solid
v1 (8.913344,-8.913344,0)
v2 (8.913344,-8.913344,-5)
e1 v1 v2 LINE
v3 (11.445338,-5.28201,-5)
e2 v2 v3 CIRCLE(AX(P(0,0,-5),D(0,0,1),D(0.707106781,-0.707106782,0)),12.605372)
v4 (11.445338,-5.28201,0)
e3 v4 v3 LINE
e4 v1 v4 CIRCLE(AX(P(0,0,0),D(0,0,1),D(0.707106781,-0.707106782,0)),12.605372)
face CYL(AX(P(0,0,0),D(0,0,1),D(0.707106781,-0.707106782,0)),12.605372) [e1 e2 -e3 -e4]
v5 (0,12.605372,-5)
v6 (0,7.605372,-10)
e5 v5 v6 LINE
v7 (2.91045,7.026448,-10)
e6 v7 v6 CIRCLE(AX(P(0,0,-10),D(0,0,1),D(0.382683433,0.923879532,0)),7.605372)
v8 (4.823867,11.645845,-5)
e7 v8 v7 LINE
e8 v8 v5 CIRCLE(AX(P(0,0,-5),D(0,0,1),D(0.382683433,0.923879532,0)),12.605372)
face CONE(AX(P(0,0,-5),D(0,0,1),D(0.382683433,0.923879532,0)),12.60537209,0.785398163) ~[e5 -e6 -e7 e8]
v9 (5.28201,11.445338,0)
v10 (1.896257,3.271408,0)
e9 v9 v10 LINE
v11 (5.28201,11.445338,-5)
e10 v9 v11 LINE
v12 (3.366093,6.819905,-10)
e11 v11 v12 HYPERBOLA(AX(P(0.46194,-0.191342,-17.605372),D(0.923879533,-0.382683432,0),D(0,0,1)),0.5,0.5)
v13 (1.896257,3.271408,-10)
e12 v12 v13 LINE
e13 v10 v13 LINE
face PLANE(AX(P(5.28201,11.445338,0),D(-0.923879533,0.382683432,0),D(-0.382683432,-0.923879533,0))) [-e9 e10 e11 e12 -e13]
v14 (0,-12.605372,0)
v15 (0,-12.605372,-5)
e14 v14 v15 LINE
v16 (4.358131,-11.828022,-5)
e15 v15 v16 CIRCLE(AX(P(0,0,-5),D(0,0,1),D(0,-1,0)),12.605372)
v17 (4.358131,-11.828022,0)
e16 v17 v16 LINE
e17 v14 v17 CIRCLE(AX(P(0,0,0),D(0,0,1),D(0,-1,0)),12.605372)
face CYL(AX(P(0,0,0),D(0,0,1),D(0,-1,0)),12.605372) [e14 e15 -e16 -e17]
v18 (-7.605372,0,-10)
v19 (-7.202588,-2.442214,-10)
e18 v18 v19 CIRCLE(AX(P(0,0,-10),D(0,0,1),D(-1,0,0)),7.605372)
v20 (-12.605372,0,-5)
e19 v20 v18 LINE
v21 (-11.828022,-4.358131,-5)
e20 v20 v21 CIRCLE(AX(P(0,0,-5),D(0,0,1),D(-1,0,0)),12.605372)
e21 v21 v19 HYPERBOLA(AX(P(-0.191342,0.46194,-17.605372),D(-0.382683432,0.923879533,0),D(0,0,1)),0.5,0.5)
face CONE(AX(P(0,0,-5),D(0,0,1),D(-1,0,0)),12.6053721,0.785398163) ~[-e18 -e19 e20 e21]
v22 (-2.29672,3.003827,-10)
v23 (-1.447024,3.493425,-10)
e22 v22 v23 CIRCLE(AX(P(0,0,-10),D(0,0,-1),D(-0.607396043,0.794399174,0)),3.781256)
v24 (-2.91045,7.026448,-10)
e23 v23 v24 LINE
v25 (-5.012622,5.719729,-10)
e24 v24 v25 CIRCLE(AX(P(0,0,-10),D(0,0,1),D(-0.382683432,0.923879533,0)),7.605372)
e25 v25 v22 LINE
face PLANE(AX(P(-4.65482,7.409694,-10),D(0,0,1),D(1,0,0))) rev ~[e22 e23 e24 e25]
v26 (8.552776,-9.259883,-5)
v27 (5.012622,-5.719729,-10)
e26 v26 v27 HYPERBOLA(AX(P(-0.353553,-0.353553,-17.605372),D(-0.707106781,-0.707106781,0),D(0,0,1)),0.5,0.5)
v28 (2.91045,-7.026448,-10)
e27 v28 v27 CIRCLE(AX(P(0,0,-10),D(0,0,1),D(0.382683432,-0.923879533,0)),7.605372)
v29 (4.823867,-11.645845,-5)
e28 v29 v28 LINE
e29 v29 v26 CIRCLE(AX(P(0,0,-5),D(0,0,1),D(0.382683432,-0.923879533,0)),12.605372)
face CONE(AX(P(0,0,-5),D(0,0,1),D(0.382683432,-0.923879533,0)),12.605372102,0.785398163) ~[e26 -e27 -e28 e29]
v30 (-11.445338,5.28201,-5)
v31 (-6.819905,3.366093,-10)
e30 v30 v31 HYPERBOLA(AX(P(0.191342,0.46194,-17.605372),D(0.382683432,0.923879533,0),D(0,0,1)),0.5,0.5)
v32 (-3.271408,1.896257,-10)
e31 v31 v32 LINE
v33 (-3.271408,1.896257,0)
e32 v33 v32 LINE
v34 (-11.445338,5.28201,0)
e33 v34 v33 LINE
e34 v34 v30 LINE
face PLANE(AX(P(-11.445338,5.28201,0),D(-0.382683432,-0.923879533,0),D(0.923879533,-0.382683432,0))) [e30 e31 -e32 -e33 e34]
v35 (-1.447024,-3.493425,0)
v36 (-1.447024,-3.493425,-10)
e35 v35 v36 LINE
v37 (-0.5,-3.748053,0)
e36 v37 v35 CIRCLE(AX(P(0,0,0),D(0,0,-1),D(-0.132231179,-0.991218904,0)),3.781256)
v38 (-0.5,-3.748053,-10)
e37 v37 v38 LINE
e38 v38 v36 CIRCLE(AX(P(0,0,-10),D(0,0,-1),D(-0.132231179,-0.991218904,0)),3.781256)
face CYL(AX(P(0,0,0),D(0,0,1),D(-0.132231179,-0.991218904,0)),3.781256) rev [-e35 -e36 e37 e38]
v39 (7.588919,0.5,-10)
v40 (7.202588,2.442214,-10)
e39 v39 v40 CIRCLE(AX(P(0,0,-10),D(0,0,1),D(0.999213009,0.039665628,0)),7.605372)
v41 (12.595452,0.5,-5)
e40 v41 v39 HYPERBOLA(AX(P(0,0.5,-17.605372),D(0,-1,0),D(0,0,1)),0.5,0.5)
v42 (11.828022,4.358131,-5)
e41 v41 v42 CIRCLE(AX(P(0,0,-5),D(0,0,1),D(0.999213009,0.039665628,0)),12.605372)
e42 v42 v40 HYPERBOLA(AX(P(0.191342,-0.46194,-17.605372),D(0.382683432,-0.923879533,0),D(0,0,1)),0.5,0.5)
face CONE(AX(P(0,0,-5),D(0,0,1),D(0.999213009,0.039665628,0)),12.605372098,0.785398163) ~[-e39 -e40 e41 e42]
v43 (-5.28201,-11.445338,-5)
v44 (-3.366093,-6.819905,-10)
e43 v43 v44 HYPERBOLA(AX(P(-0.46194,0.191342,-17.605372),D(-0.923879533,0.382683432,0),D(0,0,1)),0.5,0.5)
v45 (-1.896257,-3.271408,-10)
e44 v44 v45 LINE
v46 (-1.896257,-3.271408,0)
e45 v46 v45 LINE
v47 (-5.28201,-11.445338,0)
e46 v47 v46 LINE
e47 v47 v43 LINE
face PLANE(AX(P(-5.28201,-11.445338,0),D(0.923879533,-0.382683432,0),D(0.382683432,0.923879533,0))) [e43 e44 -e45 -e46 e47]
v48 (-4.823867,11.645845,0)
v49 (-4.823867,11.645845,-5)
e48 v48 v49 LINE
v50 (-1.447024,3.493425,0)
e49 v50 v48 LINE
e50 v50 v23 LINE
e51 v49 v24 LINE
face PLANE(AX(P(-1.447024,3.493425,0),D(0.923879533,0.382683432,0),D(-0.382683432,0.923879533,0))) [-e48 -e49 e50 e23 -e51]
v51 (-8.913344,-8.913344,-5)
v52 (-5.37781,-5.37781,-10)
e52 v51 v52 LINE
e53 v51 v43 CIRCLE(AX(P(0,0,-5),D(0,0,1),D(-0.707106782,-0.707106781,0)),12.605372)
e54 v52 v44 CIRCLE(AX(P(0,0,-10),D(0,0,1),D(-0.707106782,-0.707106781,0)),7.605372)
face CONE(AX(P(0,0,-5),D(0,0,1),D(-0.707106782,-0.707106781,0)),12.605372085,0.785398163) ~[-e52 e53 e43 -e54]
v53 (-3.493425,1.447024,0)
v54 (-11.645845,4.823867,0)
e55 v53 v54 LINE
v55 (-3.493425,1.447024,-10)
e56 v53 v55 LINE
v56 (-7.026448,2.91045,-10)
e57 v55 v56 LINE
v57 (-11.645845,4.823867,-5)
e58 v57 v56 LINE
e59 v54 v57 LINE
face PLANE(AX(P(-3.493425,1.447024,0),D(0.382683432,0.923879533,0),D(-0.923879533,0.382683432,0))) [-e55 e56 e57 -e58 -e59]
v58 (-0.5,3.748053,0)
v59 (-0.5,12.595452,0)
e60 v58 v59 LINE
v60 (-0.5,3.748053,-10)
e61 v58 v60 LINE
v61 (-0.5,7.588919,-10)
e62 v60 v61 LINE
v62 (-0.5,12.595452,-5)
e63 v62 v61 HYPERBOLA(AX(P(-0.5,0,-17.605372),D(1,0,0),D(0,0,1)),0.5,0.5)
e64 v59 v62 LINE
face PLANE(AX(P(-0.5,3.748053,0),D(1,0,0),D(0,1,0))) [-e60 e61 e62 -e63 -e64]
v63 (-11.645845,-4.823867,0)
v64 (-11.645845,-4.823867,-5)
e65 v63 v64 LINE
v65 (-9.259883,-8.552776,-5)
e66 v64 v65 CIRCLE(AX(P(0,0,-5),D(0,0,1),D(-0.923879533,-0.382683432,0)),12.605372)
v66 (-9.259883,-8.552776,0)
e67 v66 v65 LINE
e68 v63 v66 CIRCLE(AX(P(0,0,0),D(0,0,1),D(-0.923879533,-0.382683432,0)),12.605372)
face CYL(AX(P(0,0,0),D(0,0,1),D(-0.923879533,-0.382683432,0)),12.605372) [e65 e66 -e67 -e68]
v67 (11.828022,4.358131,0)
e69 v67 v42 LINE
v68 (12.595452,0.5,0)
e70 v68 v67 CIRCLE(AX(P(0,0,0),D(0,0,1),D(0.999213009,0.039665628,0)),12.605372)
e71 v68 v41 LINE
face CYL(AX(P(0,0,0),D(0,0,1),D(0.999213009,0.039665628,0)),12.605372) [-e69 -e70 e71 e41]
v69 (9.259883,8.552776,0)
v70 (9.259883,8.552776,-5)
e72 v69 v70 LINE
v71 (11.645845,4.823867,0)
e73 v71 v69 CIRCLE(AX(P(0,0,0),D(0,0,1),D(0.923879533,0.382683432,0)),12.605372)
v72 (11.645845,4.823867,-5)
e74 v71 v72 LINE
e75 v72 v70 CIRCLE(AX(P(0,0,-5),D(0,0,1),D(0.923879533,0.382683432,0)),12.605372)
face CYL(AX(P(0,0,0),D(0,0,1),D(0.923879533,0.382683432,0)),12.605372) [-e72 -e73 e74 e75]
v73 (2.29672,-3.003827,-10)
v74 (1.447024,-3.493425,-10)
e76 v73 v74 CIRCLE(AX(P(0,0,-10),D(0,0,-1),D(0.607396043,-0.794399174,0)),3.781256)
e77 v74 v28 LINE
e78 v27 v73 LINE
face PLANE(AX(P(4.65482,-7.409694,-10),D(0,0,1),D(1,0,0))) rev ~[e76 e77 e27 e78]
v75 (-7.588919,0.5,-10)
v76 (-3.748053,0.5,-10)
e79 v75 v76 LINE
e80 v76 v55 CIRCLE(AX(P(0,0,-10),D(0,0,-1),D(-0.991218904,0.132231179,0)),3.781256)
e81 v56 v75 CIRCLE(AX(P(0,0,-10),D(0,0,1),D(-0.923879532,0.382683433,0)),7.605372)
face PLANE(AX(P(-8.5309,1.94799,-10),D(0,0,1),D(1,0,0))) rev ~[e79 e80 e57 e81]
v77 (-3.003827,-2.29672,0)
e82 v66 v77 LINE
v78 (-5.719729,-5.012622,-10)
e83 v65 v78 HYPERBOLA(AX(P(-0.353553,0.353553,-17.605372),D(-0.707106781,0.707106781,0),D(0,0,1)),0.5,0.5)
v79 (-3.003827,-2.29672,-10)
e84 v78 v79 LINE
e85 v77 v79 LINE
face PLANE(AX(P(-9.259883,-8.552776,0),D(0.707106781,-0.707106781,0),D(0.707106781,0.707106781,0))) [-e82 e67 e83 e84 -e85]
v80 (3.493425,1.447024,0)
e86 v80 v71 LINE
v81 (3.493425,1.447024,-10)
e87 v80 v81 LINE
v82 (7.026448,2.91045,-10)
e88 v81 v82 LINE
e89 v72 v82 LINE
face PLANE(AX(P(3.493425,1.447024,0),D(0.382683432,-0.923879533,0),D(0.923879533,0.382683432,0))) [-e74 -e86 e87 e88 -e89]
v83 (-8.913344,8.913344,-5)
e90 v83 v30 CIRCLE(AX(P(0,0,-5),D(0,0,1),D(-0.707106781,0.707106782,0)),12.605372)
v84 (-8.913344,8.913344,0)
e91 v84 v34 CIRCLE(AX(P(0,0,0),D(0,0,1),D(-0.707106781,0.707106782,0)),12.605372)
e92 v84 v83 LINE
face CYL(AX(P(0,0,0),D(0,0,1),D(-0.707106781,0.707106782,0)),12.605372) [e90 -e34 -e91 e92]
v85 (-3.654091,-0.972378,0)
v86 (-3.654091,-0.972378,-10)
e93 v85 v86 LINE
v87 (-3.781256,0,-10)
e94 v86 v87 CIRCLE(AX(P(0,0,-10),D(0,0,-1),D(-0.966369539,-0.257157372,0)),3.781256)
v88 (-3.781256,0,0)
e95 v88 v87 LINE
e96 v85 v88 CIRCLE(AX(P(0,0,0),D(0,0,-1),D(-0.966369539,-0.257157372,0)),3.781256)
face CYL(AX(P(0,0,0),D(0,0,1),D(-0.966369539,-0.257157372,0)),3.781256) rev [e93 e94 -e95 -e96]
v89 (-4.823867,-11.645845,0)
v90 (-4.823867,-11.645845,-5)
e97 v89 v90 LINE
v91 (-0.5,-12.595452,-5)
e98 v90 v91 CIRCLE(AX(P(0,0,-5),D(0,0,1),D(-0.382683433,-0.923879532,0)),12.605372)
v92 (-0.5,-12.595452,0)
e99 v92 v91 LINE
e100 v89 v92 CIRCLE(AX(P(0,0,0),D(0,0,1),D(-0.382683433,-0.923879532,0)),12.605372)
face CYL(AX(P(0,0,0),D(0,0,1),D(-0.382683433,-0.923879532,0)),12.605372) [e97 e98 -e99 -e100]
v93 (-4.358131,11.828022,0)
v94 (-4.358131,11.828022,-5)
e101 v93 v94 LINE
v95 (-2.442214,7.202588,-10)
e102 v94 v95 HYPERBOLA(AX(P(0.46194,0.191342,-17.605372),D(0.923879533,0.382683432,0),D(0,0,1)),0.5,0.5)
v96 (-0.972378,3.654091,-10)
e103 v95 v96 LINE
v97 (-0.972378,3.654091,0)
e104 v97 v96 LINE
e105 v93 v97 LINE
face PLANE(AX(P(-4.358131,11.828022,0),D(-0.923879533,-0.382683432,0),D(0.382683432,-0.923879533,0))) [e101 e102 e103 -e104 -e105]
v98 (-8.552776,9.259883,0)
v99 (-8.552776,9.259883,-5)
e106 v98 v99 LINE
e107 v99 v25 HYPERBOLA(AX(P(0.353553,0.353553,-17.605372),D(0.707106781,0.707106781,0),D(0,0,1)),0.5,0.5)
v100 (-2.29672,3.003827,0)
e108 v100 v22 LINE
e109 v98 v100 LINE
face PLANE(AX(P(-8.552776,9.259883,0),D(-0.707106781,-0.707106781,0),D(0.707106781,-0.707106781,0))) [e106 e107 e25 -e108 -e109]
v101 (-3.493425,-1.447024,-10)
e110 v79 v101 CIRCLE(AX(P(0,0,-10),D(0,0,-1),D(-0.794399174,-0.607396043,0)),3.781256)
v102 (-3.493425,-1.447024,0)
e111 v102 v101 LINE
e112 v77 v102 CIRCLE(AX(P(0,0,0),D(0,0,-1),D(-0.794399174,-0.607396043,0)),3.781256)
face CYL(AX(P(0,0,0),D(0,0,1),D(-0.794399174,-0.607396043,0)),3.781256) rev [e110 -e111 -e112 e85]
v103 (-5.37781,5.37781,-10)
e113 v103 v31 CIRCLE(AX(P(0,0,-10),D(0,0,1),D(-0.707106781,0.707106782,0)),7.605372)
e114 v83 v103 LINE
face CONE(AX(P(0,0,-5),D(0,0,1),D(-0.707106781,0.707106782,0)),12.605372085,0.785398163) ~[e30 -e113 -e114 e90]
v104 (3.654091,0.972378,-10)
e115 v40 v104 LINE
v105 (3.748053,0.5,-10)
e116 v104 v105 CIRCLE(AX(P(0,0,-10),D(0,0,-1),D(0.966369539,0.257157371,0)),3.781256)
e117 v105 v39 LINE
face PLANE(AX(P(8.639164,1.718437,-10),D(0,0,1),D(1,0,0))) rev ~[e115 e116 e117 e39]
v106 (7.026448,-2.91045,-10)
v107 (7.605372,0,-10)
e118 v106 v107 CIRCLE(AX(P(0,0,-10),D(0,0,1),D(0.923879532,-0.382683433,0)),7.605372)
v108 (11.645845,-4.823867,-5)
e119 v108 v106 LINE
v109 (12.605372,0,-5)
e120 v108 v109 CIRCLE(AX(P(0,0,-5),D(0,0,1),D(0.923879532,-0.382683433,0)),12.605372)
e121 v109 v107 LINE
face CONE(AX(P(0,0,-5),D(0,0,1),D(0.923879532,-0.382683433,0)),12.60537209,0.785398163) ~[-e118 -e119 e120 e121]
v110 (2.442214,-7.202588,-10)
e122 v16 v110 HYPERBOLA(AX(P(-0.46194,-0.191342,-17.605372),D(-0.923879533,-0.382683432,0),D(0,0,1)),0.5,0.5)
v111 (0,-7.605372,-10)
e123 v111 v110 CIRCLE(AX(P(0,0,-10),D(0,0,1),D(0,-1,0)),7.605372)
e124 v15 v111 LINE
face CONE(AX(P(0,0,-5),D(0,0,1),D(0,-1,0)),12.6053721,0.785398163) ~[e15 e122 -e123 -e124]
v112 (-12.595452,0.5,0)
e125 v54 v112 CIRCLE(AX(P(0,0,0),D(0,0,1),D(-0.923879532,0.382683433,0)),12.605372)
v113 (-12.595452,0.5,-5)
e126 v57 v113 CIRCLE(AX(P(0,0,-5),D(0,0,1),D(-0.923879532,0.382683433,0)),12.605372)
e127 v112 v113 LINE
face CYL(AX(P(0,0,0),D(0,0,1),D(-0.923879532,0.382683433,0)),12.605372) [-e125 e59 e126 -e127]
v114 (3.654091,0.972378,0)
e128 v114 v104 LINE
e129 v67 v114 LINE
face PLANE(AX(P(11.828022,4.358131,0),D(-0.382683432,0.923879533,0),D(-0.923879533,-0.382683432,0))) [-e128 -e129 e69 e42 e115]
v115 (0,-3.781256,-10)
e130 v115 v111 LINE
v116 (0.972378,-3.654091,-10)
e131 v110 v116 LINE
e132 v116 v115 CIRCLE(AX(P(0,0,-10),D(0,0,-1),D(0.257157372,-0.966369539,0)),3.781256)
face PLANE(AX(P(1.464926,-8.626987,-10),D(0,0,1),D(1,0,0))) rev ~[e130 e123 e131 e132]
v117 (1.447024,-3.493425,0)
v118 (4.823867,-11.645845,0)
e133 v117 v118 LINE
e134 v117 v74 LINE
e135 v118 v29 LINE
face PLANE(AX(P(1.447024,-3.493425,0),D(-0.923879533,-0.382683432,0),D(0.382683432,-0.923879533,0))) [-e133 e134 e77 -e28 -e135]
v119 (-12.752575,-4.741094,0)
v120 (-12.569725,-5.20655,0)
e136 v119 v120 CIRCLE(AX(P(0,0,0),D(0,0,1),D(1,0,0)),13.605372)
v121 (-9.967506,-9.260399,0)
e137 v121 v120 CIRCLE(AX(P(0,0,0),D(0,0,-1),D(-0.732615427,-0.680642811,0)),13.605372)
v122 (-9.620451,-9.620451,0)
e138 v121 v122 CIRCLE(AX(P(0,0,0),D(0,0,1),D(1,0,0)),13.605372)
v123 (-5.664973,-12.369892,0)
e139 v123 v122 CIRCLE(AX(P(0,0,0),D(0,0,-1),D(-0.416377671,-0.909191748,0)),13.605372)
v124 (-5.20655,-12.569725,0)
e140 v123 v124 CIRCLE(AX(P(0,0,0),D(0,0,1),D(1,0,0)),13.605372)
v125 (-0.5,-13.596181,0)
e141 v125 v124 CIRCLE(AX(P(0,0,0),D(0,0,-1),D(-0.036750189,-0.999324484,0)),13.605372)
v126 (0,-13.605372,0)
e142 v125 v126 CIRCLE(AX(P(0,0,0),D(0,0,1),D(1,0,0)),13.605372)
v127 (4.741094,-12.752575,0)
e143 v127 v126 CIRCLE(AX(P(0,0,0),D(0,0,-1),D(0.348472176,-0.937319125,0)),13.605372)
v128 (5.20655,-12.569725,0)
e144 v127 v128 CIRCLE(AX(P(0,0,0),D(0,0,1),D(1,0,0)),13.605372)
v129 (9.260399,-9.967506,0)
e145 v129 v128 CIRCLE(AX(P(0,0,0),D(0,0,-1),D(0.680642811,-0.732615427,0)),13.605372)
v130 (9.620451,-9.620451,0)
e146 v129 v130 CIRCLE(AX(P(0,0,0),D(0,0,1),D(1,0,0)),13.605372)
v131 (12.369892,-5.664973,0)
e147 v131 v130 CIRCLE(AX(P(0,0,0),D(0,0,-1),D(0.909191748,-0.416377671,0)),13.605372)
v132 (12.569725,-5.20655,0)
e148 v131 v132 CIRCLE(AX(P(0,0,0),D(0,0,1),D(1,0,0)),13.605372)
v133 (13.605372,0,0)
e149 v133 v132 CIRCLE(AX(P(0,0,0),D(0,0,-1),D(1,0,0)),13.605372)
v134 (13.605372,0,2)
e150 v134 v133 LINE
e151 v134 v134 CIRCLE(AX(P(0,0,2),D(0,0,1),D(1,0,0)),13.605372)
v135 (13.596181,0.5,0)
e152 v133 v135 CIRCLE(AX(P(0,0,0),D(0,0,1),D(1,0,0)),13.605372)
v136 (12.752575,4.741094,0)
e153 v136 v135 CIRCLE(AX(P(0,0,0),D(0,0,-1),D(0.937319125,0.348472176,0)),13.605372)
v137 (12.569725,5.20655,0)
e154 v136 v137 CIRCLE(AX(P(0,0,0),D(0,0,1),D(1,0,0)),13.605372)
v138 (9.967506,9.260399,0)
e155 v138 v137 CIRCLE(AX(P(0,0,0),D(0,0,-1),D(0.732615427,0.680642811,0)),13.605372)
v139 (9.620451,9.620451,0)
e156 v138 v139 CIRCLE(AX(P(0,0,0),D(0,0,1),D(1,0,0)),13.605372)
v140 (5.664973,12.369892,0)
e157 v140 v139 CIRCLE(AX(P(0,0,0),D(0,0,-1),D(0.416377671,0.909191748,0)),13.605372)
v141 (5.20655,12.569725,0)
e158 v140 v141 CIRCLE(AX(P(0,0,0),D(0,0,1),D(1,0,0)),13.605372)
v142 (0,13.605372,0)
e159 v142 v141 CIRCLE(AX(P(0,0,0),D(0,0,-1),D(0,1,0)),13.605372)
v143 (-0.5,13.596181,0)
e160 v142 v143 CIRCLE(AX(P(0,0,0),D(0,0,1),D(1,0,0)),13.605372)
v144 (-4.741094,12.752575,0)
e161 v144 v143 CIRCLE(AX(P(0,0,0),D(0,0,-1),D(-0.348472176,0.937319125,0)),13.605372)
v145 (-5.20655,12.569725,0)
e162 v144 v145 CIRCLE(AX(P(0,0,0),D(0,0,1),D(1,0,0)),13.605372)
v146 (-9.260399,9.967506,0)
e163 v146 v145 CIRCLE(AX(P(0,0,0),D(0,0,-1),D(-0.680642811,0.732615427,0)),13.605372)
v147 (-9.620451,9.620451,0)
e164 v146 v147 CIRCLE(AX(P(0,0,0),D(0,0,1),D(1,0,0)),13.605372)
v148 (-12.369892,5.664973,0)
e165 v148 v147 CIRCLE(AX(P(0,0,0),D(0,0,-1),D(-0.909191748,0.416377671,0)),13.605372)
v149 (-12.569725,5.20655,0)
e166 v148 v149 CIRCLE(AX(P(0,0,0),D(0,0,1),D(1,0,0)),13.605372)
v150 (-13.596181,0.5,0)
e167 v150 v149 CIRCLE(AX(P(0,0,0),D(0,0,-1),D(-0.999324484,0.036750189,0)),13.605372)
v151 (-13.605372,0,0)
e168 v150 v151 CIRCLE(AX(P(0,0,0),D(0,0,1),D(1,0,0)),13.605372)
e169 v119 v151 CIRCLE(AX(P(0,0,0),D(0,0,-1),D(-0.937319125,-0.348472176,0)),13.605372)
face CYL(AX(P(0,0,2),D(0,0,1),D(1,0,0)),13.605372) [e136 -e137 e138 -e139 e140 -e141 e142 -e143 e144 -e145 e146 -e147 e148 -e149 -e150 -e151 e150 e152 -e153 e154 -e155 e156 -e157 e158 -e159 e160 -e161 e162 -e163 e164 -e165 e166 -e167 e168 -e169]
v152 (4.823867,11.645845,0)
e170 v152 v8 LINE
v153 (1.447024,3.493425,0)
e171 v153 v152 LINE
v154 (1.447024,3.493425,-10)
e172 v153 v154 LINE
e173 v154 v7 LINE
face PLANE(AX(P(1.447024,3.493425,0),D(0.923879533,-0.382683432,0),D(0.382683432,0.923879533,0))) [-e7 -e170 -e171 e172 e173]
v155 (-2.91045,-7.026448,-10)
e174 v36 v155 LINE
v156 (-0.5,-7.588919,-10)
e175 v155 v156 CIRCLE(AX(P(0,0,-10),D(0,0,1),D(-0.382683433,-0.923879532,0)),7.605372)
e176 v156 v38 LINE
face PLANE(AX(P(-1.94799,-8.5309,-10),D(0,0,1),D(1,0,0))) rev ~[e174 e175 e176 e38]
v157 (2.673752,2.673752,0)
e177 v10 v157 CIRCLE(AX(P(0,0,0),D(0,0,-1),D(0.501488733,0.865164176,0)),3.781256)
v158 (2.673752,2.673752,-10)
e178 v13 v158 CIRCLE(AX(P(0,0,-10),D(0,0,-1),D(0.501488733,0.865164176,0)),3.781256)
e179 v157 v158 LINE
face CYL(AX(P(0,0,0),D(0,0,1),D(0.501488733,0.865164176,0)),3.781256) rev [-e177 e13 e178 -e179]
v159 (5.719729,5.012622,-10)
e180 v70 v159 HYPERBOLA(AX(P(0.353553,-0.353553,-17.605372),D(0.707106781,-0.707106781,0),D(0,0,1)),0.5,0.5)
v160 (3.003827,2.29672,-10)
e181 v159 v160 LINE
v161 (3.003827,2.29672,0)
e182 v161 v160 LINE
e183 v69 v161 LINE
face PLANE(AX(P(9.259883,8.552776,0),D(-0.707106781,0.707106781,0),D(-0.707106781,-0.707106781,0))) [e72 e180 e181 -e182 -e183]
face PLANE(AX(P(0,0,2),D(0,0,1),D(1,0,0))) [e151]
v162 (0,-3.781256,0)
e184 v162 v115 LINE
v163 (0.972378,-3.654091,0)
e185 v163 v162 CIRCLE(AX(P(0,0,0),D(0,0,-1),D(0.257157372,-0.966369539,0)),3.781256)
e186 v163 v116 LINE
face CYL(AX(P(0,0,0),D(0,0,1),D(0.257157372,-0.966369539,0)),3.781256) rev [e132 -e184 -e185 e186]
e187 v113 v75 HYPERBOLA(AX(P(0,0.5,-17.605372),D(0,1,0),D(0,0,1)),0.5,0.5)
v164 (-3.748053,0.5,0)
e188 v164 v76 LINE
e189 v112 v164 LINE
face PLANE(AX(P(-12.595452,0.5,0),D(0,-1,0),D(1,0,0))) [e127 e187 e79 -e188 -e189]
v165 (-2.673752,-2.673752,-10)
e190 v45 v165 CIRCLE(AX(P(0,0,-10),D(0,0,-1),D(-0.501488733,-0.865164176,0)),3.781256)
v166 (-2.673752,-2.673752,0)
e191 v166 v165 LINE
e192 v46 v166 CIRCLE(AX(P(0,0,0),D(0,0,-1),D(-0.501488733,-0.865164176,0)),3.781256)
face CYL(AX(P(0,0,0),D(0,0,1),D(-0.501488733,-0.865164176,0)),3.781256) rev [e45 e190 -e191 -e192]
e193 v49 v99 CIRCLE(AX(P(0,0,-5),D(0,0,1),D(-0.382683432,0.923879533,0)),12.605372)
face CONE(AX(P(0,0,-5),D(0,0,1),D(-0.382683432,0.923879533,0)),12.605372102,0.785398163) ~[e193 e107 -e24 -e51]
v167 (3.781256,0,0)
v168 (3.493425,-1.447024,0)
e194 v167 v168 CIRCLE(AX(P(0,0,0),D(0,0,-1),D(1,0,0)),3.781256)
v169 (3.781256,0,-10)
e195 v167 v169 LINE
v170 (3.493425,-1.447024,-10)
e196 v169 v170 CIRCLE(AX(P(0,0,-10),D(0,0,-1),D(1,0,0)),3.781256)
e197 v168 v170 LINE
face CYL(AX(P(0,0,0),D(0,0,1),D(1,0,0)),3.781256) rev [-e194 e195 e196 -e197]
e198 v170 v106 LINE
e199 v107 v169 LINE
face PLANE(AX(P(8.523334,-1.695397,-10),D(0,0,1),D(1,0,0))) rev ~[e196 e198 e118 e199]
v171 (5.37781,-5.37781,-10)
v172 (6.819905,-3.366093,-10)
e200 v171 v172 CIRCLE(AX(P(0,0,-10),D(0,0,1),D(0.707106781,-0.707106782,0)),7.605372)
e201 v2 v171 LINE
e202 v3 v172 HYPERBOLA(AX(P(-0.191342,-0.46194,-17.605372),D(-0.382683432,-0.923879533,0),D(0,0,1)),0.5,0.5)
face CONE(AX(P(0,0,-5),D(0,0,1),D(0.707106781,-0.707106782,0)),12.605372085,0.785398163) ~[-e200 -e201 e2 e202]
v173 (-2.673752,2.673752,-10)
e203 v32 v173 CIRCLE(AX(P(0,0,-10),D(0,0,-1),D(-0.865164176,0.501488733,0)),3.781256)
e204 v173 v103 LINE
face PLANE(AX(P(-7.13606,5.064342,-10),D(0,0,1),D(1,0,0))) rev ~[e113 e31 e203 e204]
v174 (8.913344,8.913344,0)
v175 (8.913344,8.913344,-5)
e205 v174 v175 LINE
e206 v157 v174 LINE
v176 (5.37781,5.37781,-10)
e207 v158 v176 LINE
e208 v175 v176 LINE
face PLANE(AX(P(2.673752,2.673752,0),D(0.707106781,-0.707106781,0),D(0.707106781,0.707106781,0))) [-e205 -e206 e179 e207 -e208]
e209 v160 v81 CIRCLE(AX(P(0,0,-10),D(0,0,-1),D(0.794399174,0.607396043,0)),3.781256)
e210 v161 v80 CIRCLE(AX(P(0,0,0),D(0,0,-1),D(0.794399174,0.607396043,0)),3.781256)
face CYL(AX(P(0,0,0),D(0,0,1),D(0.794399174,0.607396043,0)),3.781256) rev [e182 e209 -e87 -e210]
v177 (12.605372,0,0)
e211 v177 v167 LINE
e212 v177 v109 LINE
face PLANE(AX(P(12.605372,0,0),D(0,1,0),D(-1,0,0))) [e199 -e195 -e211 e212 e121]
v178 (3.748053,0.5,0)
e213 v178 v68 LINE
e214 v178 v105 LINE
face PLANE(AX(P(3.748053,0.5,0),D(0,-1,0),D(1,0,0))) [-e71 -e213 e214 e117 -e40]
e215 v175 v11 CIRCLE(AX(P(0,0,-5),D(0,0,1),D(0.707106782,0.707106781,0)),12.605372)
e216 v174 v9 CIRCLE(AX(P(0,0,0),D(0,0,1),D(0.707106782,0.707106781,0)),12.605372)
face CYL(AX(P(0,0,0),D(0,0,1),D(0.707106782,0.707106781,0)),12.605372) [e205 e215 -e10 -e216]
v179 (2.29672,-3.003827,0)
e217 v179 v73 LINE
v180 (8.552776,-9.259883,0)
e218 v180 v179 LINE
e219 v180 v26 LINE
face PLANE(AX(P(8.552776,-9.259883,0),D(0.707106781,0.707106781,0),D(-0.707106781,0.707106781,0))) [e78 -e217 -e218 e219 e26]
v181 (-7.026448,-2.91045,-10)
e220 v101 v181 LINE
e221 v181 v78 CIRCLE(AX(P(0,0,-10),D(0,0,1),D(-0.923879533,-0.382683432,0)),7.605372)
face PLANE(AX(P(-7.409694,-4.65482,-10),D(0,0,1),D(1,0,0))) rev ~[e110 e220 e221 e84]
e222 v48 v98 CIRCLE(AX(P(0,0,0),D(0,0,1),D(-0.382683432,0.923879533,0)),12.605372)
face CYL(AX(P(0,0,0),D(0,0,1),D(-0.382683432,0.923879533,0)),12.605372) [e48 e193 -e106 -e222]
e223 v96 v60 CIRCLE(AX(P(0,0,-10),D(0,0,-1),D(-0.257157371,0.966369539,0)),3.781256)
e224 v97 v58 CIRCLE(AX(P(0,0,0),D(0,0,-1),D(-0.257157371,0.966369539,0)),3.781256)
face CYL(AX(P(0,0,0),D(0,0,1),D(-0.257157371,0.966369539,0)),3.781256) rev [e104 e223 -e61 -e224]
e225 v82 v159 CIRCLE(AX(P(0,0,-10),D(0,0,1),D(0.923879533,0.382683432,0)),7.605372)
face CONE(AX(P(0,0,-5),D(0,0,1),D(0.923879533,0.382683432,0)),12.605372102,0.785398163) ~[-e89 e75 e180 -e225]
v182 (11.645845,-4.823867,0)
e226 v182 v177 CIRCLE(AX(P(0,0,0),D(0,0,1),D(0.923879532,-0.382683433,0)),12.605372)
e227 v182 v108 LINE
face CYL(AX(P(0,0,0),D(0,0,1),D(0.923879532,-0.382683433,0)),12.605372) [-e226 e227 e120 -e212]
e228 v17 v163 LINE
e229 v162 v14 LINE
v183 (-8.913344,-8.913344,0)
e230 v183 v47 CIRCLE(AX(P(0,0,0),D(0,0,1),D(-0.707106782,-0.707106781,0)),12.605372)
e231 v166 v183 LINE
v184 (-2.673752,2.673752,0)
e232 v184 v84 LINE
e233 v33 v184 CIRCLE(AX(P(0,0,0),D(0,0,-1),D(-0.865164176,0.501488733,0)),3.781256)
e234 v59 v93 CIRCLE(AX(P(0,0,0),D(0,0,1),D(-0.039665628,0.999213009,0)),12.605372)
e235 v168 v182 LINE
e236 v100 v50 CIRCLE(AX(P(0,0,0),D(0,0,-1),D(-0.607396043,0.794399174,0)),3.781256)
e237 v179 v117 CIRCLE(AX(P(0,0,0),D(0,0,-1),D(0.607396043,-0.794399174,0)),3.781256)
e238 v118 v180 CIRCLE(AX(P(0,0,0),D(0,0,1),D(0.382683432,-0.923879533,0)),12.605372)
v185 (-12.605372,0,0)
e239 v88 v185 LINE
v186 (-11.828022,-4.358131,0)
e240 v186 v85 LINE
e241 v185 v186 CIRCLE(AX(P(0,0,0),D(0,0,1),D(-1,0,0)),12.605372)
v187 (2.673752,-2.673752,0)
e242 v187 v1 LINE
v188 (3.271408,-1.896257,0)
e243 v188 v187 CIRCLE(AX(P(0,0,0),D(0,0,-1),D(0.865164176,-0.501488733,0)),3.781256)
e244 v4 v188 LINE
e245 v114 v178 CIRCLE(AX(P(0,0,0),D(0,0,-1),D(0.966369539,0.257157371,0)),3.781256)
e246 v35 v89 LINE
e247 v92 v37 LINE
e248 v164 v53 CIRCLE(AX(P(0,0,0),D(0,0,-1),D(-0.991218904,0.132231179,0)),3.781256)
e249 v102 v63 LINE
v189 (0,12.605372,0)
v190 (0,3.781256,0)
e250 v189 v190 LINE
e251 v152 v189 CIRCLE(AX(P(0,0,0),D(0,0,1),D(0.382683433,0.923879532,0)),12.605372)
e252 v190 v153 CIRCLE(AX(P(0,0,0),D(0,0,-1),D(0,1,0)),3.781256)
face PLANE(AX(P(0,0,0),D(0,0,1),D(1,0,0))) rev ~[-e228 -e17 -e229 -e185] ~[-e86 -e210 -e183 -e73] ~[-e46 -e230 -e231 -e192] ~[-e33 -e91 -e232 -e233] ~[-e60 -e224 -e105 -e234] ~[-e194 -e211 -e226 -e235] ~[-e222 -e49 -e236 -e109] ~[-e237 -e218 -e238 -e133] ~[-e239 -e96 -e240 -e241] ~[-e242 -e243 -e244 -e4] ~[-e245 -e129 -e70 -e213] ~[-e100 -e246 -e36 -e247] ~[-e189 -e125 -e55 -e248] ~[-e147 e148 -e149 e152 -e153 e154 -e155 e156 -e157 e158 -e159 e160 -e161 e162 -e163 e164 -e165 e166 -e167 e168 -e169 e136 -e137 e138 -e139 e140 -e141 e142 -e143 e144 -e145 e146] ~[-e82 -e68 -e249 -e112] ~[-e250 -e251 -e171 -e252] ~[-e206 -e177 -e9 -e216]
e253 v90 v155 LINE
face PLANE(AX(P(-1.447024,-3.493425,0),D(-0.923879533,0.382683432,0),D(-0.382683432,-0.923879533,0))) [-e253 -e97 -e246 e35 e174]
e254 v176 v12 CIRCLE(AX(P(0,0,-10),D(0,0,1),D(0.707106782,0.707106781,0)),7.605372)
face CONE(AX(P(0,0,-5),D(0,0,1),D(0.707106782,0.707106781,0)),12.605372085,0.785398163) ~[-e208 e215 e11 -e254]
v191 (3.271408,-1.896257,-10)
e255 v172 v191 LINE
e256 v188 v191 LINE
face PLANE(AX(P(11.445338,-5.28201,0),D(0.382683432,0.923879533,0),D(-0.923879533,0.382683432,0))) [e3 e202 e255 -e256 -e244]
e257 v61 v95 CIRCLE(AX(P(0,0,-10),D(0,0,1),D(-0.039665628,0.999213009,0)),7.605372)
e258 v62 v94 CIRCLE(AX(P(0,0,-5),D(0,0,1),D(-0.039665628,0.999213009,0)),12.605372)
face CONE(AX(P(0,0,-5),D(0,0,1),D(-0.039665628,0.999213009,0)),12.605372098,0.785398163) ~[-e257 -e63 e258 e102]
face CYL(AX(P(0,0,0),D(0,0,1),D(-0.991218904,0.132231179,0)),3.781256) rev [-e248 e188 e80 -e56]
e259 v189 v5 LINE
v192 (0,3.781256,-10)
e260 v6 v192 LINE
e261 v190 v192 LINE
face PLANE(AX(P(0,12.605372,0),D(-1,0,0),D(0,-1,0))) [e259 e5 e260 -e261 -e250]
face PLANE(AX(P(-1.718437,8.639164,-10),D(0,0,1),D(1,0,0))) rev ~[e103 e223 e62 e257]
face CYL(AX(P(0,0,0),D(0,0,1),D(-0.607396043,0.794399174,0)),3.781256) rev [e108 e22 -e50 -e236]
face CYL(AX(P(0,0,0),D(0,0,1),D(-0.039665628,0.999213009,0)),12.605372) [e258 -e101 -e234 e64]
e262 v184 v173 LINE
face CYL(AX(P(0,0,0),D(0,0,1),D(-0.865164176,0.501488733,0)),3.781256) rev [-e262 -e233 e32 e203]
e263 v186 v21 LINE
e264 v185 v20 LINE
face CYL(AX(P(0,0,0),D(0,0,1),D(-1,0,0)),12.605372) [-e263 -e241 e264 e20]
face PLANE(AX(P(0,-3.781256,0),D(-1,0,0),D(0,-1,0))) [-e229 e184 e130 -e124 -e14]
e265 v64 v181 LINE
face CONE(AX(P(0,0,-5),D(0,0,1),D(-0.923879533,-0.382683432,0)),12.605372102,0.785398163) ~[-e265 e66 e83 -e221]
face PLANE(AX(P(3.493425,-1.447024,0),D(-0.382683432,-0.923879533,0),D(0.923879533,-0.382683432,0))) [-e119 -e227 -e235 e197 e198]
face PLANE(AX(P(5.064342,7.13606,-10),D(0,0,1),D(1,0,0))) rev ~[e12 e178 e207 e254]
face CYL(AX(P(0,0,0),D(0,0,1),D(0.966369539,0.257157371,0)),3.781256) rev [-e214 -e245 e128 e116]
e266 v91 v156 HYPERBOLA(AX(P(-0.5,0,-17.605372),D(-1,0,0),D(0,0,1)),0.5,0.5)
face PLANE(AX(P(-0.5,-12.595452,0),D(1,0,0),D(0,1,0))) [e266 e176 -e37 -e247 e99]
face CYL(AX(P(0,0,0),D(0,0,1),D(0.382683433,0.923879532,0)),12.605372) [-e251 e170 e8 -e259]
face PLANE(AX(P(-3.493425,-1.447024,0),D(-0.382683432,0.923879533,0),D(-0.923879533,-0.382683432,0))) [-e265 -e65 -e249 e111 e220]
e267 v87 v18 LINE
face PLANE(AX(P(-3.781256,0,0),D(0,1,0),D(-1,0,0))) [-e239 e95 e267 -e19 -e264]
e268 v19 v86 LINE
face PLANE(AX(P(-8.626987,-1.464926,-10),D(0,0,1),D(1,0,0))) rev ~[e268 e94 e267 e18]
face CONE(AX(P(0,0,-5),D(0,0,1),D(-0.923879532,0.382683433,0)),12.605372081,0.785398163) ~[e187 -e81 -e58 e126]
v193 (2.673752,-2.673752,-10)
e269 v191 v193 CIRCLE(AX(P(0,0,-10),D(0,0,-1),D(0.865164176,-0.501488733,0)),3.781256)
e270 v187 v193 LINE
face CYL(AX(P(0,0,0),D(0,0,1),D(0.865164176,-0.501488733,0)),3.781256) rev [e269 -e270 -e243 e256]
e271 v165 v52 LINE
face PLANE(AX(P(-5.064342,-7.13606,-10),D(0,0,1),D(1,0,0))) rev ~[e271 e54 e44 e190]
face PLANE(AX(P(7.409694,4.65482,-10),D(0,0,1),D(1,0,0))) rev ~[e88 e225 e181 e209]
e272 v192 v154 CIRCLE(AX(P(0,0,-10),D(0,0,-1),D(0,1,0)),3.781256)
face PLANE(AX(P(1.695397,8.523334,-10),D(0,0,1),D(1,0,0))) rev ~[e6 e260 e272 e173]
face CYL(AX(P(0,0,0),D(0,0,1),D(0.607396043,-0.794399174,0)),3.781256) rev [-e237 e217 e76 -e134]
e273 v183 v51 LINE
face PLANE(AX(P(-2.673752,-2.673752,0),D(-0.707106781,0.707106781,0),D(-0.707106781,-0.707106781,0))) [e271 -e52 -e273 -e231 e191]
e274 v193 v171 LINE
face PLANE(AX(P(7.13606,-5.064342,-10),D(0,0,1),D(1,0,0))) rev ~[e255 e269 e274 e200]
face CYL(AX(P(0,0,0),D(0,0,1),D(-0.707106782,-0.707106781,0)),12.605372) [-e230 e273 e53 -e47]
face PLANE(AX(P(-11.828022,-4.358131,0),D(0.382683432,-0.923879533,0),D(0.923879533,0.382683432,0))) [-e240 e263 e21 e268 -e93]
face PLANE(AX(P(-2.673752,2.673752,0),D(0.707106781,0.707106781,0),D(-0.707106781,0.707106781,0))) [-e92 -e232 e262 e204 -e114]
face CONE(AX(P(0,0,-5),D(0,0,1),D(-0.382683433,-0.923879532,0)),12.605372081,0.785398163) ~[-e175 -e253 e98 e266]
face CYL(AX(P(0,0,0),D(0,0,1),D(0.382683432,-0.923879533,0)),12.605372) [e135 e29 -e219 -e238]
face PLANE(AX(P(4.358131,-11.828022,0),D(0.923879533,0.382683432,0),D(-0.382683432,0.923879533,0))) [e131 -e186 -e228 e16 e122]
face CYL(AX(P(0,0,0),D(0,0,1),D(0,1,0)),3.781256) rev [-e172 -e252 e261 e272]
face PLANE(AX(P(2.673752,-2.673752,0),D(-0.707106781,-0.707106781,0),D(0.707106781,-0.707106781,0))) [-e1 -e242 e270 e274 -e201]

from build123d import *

# Parameters (mm, degrees)
SKETCH1_R            = 40
SKETCH1_R_2          = 37
BOSS_EXTRUDE10_DEPTH = 2
BOSS_EXTRUDE12_START = -2
SKETCH4_R            = 37
BOSS_EXTRUDE12_DEPTH = 2
BOSS_EXTRUDE14_DEPTH = 20
BOSS_EXTRUDE15_DEPTH = 15
BOSS_EXTRUDE16_DEPTH = 10
CHAMFER6_SIZE        = 5
CHAMFER7_SIZE        = 5
CHAMFER8_SIZE        = 5
CHAMFER9_SIZE        = 1
SKETCH5_R            = 42.605372115
SKETCH5_R_2          = 13.605372115
CUT_EXTRUDE1_DEPTH   = 31


with BuildPart() as part:
    # Sketch1 → Boss-Extrude10 (new body)
    with BuildSketch(Plane.XY):
        Circle(SKETCH1_R)
        Circle(SKETCH1_R_2, mode=Mode.SUBTRACT)
    extrude(amount=BOSS_EXTRUDE10_DEPTH)

    # Sketch4 → Boss-Extrude12 (add)
    with BuildSketch(Plane.XY.offset(2).offset(BOSS_EXTRUDE12_START)):
        Circle(SKETCH4_R)
    extrude(amount=BOSS_EXTRUDE12_DEPTH)

    # Sketch1_20 → Boss-Extrude14 (add)
    with BuildSketch(Plane.XY):
        with BuildLine():
            Line((-0.5, 29.032669707), (-0.5, 36.996621467))
            ThreePointArc((-0.5, 36.996621467), (-7.218341915, 36.289055375), (-13.696054323, 34.371763062))
            Line((-13.696054323, 34.371763062), (-10.648381928, 27.014031033))
            ThreePointArc((-10.648381928, 27.014031033), (-5.66483278, 28.479037552), (-0.5, 29.032669707))
        make_face()
        with BuildLine():
            Line((-11.111969214, 26.82666678), (-14.159286998, 34.183542703))
            ThreePointArc((-14.159286998, 34.183542703), (-20.347757215, 30.902569089), (-25.80700853, 26.514115311))
            Line((-25.80700853, 26.514115311), (-20.175644235, 20.882751017))
            ThreePointArc((-20.175644235, 20.882751017), (-15.923605825, 24.281365033), (-11.111969214, 26.82666678))
        make_face()
        with BuildLine():
            Line((-20.532241845, 20.532241845), (-26.162950904, 26.162950904))
            ThreePointArc((-26.162950904, 26.162950904), (-30.624777631, 20.763501512), (-33.98907963, 14.619933855))
            Line((-33.98907963, 14.619933855), (-26.631347601, 11.572261461))
            ThreePointArc((-26.631347601, 11.572261461), (-24.003569619, 16.339356042), (-20.532241845, 20.532241845))
        make_face()
        with BuildLine():
            Line((-26.82666678, 11.111969214), (-34.183542703, 14.159286998))
            ThreePointArc((-34.183542703, 14.159286998), (-36.239453268, 7.463379051), (-36.996621467, 0.5))
            Line((-36.996621467, 0.5), (-29.032669707, 0.5))
            ThreePointArc((-29.032669707, 0.5), (-28.429207531, 5.909828211), (-26.82666678, 11.111969214))
        make_face()
        with BuildLine():
            Line((-29.036974883, 0), (-37, 0))
            ThreePointArc((-37, 0), (-36.337000656, -6.972975215), (-34.371763062, -13.696054323))
            Line((-34.371763062, -13.696054323), (-27.014031033, -10.648381928))
            ThreePointArc((-27.014031033, -10.648381928), (-28.526756308, -5.419417393), (-29.036974883, 0))
        make_face()
        with BuildLine():
            Line((-26.82666678, -11.111969214), (-34.183542703, -14.159286998))
            ThreePointArc((-34.183542703, -14.159286998), (-30.902569089, -20.347757215), (-26.514115311, -25.80700853))
            Line((-26.514115311, -25.80700853), (-20.882751017, -20.175644235))
            ThreePointArc((-20.882751017, -20.175644235), (-24.281365033, -15.923605825), (-26.82666678, -11.111969214))
        make_face()
        with BuildLine():
            Line((-20.532241845, -20.532241845), (-26.162950904, -26.162950904))
            ThreePointArc((-26.162950904, -26.162950904), (-20.763501512, -30.624777631), (-14.619933855, -33.98907963))
            Line((-14.619933855, -33.98907963), (-11.572261461, -26.631347601))
            ThreePointArc((-11.572261461, -26.631347601), (-16.339356042, -24.003569619), (-20.532241845, -20.532241845))
        make_face()
        with BuildLine():
            Line((-11.111969214, -26.82666678), (-14.159286998, -34.183542703))
            ThreePointArc((-14.159286998, -34.183542703), (-7.463379051, -36.239453268), (-0.5, -36.996621467))
            Line((-0.5, -36.996621467), (-0.5, -29.032669707))
            ThreePointArc((-0.5, -29.032669707), (-5.909828211, -28.429207531), (-11.111969214, -26.82666678))
        make_face()
        with BuildLine():
            ThreePointArc((0, -37), (6.972975215, -36.337000656), (13.696054323, -34.371763062))
            Line((13.696054323, -34.371763062), (10.648381928, -27.014031033))
            ThreePointArc((10.648381928, -27.014031033), (5.419417393, -28.526756308), (0, -29.036974883))
            Line((0, -29.036974883), (0, -37))
        make_face()
        with BuildLine():
            ThreePointArc((14.159286998, -34.183542703), (20.347757215, -30.902569089), (25.80700853, -26.514115311))
            Line((25.80700853, -26.514115311), (20.175644235, -20.882751017))
            ThreePointArc((20.175644235, -20.882751017), (15.923605825, -24.281365033), (11.111969214, -26.82666678))
            Line((11.111969214, -26.82666678), (14.159286998, -34.183542703))
        make_face()
        with BuildLine():
            ThreePointArc((26.162950904, -26.162950904), (30.624777631, -20.763501512), (33.98907963, -14.619933855))
            Line((33.98907963, -14.619933855), (26.631347601, -11.572261461))
            ThreePointArc((26.631347601, -11.572261461), (24.003569619, -16.339356042), (20.532241845, -20.532241845))
            Line((20.532241845, -20.532241845), (26.162950904, -26.162950904))
        make_face()
        with BuildLine():
            ThreePointArc((34.183542703, -14.159286998), (36.289055375, -7.218341915), (37, 0))
            Line((37, 0), (29.036974883, 0))
            ThreePointArc((29.036974883, 0), (28.479037552, -5.66483278), (26.82666678, -11.111969214))
            Line((26.82666678, -11.111969214), (34.183542703, -14.159286998))
        make_face()
        with BuildLine():
            ThreePointArc((36.996621467, 0.5), (36.289055375, 7.218341915), (34.371763062, 13.696054323))
            Line((34.371763062, 13.696054323), (27.014031033, 10.648381928))
            ThreePointArc((27.014031033, 10.648381928), (28.479037552, 5.66483278), (29.032669707, 0.5))
            Line((29.032669707, 0.5), (36.996621467, 0.5))
        make_face()
        with BuildLine():
            ThreePointArc((34.183542703, 14.159286998), (30.902569089, 20.347757215), (26.514115311, 25.80700853))
            Line((26.514115311, 25.80700853), (20.882751017, 20.175644235))
            ThreePointArc((20.882751017, 20.175644235), (24.281365033, 15.923605825), (26.82666678, 11.111969214))
            Line((26.82666678, 11.111969214), (34.183542703, 14.159286998))
        make_face()
        with BuildLine():
            ThreePointArc((26.162950904, 26.162950904), (20.763501512, 30.624777631), (14.619933855, 33.98907963))
            Line((14.619933855, 33.98907963), (11.572261461, 26.631347601))
            ThreePointArc((11.572261461, 26.631347601), (16.339356042, 24.003569619), (20.532241845, 20.532241845))
            Line((20.532241845, 20.532241845), (26.162950904, 26.162950904))
        make_face()
        with BuildLine():
            ThreePointArc((14.159286998, 34.183542703), (7.218341915, 36.289055375), (0, 37))
            Line((0, 37), (0, 29.036974883))
            ThreePointArc((0, 29.036974883), (5.66483278, 28.479037552), (11.111969214, 26.82666678))
            Line((11.111969214, 26.82666678), (14.159286998, 34.183542703))
        make_face()
    extrude(amount=-BOSS_EXTRUDE14_DEPTH)

    # Sketch1_21 → Boss-Extrude15 (add)
    with BuildSketch(Plane.XY):
        with BuildLine():
            ThreePointArc((18.410921501, -18.410921501), (21.509056391, -14.672578308), (23.859250637, -10.424021302))
            Line((23.859250637, -10.424021302), (12.369892059, -5.664973156))
            ThreePointArc((12.369892059, -5.664973156), (11.17162686, -7.765365652), (9.620450883, -9.620450883))
            Line((9.620450883, -9.620450883), (18.410921501, -18.410921501))
        make_face()
        with BuildLine():
            ThreePointArc((9.963918917, -24.055028183), (14.256824335, -21.786854315), (18.053973073, -18.761079855))
            Line((18.053973073, -18.761079855), (9.260398721, -9.967505502))
            ThreePointArc((9.260398721, -9.967505502), (7.349560619, -11.4494589), (5.2065505, -12.56972483))
            Line((5.2065505, -12.56972483), (9.963918917, -24.055028183))
        make_face()
        with BuildLine():
            ThreePointArc((4.741093623, -12.752575491), (2.408590398, -13.39047582), (0, -13.605372115))
            Line((0, -13.605372115), (0, -26.036974883))
            ThreePointArc((0, -26.036974883), (4.834120012, -25.58427925), (9.500141769, -24.241934069))
            Line((9.500141769, -24.241934069), (4.741093623, -12.752575491))
        make_face()
        with BuildLine():
            Line((-0.5, -26.032173575), (-0.5, -13.596181464))
            ThreePointArc((-0.5, -13.596181464), (-2.899065877, -13.292914182), (-5.2065505, -12.56972483))
            Line((-5.2065505, -12.56972483), (-9.963918917, -24.055028183))
            ThreePointArc((-9.963918917, -24.055028183), (-5.324535261, -25.486729592), (-0.5, -26.032173575))
        make_face()
        with BuildLine():
            Line((-9.620450883, -9.620450883), (-18.410921501, -18.410921501))
            ThreePointArc((-18.410921501, -18.410921501), (-14.672578308, -21.509056391), (-10.424021302, -23.859250637))
            Line((-10.424021302, -23.859250637), (-5.664973156, -12.369892059))
            ThreePointArc((-5.664973156, -12.369892059), (-7.765365652, -11.17162686), (-9.620450883, -9.620450883))
        make_face()
        with BuildLine():
            Line((-12.56972483, -5.2065505), (-24.055028183, -9.963918917))
            ThreePointArc((-24.055028183, -9.963918917), (-21.786854315, -14.256824335), (-18.761079855, -18.053973073))
            Line((-18.761079855, -18.053973073), (-9.967505502, -9.260398721))
            ThreePointArc((-9.967505502, -9.260398721), (-11.4494589, -7.349560619), (-12.56972483, -5.2065505))
        make_face()
        with BuildLine():
            Line((-13.605372115, 0), (-26.036974883, 0))
            ThreePointArc((-26.036974883, 0), (-25.58427925, -4.834120012), (-24.241934069, -9.500141769))
            Line((-24.241934069, -9.500141769), (-12.752575491, -4.741093623))
            ThreePointArc((-12.752575491, -4.741093623), (-13.39047582, -2.408590398), (-13.605372115, 0))
        make_face()
        with BuildLine():
            Line((-12.56972483, 5.2065505), (-24.055028183, 9.963918917))
            ThreePointArc((-24.055028183, 9.963918917), (-25.486729592, 5.324535261), (-26.032173575, 0.5))
            Line((-26.032173575, 0.5), (-13.596181464, 0.5))
            ThreePointArc((-13.596181464, 0.5), (-13.292914182, 2.899065877), (-12.56972483, 5.2065505))
        make_face()
        with BuildLine():
            Line((-9.620450883, 9.620450883), (-18.410921501, 18.410921501))
            ThreePointArc((-18.410921501, 18.410921501), (-21.509056391, 14.672578308), (-23.859250637, 10.424021302))
            Line((-23.859250637, 10.424021302), (-12.369892059, 5.664973156))
            ThreePointArc((-12.369892059, 5.664973156), (-11.17162686, 7.765365652), (-9.620450883, 9.620450883))
        make_face()
        with BuildLine():
            Line((-5.2065505, 12.56972483), (-9.963918917, 24.055028183))
            ThreePointArc((-9.963918917, 24.055028183), (-14.256824335, 21.786854315), (-18.053973073, 18.761079855))
            Line((-18.053973073, 18.761079855), (-9.260398721, 9.967505502))
            ThreePointArc((-9.260398721, 9.967505502), (-7.349560619, 11.4494589), (-5.2065505, 12.56972483))
        make_face()
        with BuildLine():
            Line((-0.5, 13.596181464), (-0.5, 26.032173575))
            ThreePointArc((-0.5, 26.032173575), (-5.079561814, 25.536681711), (-9.500141769, 24.241934069))
            Line((-9.500141769, 24.241934069), (-4.741093623, 12.752575491))
            ThreePointArc((-4.741093623, 12.752575491), (-2.654276427, 13.343948705), (-0.5, 13.596181464))
        make_face()
        with BuildLine():
            ThreePointArc((9.963918917, 24.055028183), (5.079561814, 25.536681711), (0, 26.036974883))
            Line((0, 26.036974883), (0, 13.605372115))
            ThreePointArc((0, 13.605372115), (2.654276427, 13.343948705), (5.2065505, 12.56972483))
            Line((5.2065505, 12.56972483), (9.963918917, 24.055028183))
        make_face()
        with BuildLine():
            ThreePointArc((18.410921501, 18.410921501), (14.672578308, 21.509056391), (10.424021302, 23.859250637))
            Line((10.424021302, 23.859250637), (5.664973156, 12.369892059))
            ThreePointArc((5.664973156, 12.369892059), (7.765365652, 11.17162686), (9.620450883, 9.620450883))
            Line((9.620450883, 9.620450883), (18.410921501, 18.410921501))
        make_face()
        with BuildLine():
            ThreePointArc((24.055028183, 9.963918917), (21.786854315, 14.256824335), (18.761079855, 18.053973073))
            Line((18.761079855, 18.053973073), (9.967505502, 9.260398721))
            ThreePointArc((9.967505502, 9.260398721), (11.4494589, 7.349560619), (12.56972483, 5.2065505))
            Line((12.56972483, 5.2065505), (24.055028183, 9.963918917))
        make_face()
        with BuildLine():
            ThreePointArc((26.032173575, 0.5), (25.536681711, 5.079561814), (24.241934069, 9.500141769))
            Line((24.241934069, 9.500141769), (12.752575491, 4.741093623))
            ThreePointArc((12.752575491, 4.741093623), (13.343948705, 2.654276427), (13.596181464, 0.5))
            Line((13.596181464, 0.5), (26.032173575, 0.5))
        make_face()
        with BuildLine():
            ThreePointArc((24.055028183, -9.963918917), (25.536681711, -5.079561814), (26.036974883, 0))
            Line((26.036974883, 0), (13.605372115, 0))
            ThreePointArc((13.605372115, 0), (13.343948705, -2.654276427), (12.56972483, -5.2065505))
            Line((12.56972483, -5.2065505), (24.055028183, -9.963918917))
        make_face()
    extrude(amount=-BOSS_EXTRUDE15_DEPTH)

    # Sketch1_22 → Boss-Extrude16 (add)
    with BuildSketch(Plane.XY):
        with BuildLine():
            ThreePointArc((3.271407603, -1.896257497), (2.997891812, -2.304461951), (2.673752064, -2.673752064))
            Line((2.673752064, -2.673752064), (8.913344102, -8.913344102))
            ThreePointArc((8.913344102, -8.913344102), (10.340001661, -7.209699843), (11.445338409, -5.282010495))
            Line((11.445338409, -5.282010495), (3.271407603, -1.896257497))
        make_face()
        with BuildLine():
            ThreePointArc((2.296720199, -3.00382698), (1.887811476, -3.276288758), (1.44702419, -3.493425424))
            Line((1.44702419, -3.493425424), (4.823867067, -11.645845297))
            ThreePointArc((4.823867067, -11.645845297), (6.793883218, -10.617841447), (8.552775993, -9.259882774))
            Line((8.552775993, -9.259882774), (2.296720199, -3.00382698))
        make_face()
        with BuildLine():
            ThreePointArc((0.972377965, -3.654091035), (0.490328957, -3.749330302), (0, -3.781256431))
            Line((0, -3.781256431), (0, -12.605372115))
            ThreePointArc((0, -12.605372115), (2.213457642, -12.409512941), (4.358130963, -11.828021841))
            Line((4.358130963, -11.828021841), (0.972377965, -3.654091035))
        make_face()
        with BuildLine():
            Line((-0.5, -12.595451805), (-0.5, -3.748052854))
            ThreePointArc((-0.5, -3.748052854), (-0.981801701, -3.651570295), (-1.44702419, -3.493425424))
            Line((-1.44702419, -3.493425424), (-4.823867067, -11.645845297))
            ThreePointArc((-4.823867067, -11.645845297), (-2.703946795, -12.311948583), (-0.5, -12.595451805))
        make_face()
        with BuildLine():
            ThreePointArc((-1.896257497, -3.271407603), (-2.304461951, -2.997891812), (-2.673752064, -2.673752064))
            Line((-2.673752064, -2.673752064), (-8.913344102, -8.913344102))
            ThreePointArc((-8.913344102, -8.913344102), (-7.209699843, -10.340001661), (-5.282010495, -11.445338409))
            Line((-5.282010495, -11.445338409), (-1.896257497, -3.271407603))
        make_face()
        with BuildLine():
            ThreePointArc((-3.00382698, -2.296720199), (-3.276288758, -1.887811476), (-3.493425424, -1.44702419))
            Line((-3.493425424, -1.44702419), (-11.645845297, -4.823867067))
            ThreePointArc((-11.645845297, -4.823867067), (-10.617841447, -6.793883218), (-9.259882774, -8.552775993))
            Line((-9.259882774, -8.552775993), (-3.00382698, -2.296720199))
        make_face()
        with BuildLine():
            ThreePointArc((-3.654091035, -0.972377965), (-3.749330302, -0.490328957), (-3.781256431, 0))
            Line((-3.781256431, 0), (-12.605372115, 0))
            ThreePointArc((-12.605372115, 0), (-12.409512941, -2.213457642), (-11.828021841, -4.358130963))
            Line((-11.828021841, -4.358130963), (-3.654091035, -0.972377965))
        make_face()
        with BuildLine():
            Line((-3.493425424, 1.44702419), (-11.645845297, 4.823867067))
            ThreePointArc((-11.645845297, 4.823867067), (-12.311948583, 2.703946795), (-12.595451805, 0.5))
            Line((-12.595451805, 0.5), (-3.748052854, 0.5))
            ThreePointArc((-3.748052854, 0.5), (-3.651570295, 0.981801701), (-3.493425424, 1.44702419))
        make_face()
        with BuildLine():
            Line((-2.673752064, 2.673752064), (-8.913344102, 8.913344102))
            ThreePointArc((-8.913344102, 8.913344102), (-10.340001661, 7.209699843), (-11.445338409, 5.282010495))
            Line((-11.445338409, 5.282010495), (-3.271407603, 1.896257497))
            ThreePointArc((-3.271407603, 1.896257497), (-2.997891812, 2.304461951), (-2.673752064, 2.673752064))
        make_face()
        with BuildLine():
            Line((-1.44702419, 3.493425424), (-4.823867067, 11.645845297))
            ThreePointArc((-4.823867067, 11.645845297), (-6.793883218, 10.617841447), (-8.552775993, 9.259882774))
            Line((-8.552775993, 9.259882774), (-2.296720199, 3.00382698))
            ThreePointArc((-2.296720199, 3.00382698), (-1.887811476, 3.276288758), (-1.44702419, 3.493425424))
        make_face()
        with BuildLine():
            Line((-0.5, 3.748052854), (-0.5, 12.595451805))
            ThreePointArc((-0.5, 12.595451805), (-2.459186105, 12.363163425), (-4.358130963, 11.828021841))
            Line((-4.358130963, 11.828021841), (-0.972377965, 3.654091035))
            ThreePointArc((-0.972377965, 3.654091035), (-0.737686535, 3.708600649), (-0.5, 3.748052854))
        make_face()
        with BuildLine():
            ThreePointArc((4.823867067, 11.645845297), (2.459186105, 12.363163425), (0, 12.605372115))
            Line((0, 12.605372115), (0, 3.781256431))
            ThreePointArc((0, 3.781256431), (0.737686535, 3.708600649), (1.44702419, 3.493425424))
            Line((1.44702419, 3.493425424), (4.823867067, 11.645845297))
        make_face()
        with BuildLine():
            ThreePointArc((8.913344102, 8.913344102), (7.209699843, 10.340001661), (5.282010495, 11.445338409))
            Line((5.282010495, 11.445338409), (1.896257497, 3.271407603))
            ThreePointArc((1.896257497, 3.271407603), (2.304461951, 2.997891812), (2.673752064, 2.673752064))
            Line((2.673752064, 2.673752064), (8.913344102, 8.913344102))
        make_face()
        with BuildLine():
            ThreePointArc((11.645845297, 4.823867067), (10.617841447, 6.793883218), (9.259882774, 8.552775993))
            Line((9.259882774, 8.552775993), (3.00382698, 2.296720199))
            ThreePointArc((3.00382698, 2.296720199), (3.276288758, 1.887811476), (3.493425424, 1.44702419))
            Line((3.493425424, 1.44702419), (11.645845297, 4.823867067))
        make_face()
        with BuildLine():
            ThreePointArc((12.595451805, 0.5), (12.363163425, 2.459186105), (11.828021841, 4.358130963))
            Line((11.828021841, 4.358130963), (3.654091035, 0.972377965))
            ThreePointArc((3.654091035, 0.972377965), (3.708600649, 0.737686535), (3.748052854, 0.5))
            Line((3.748052854, 0.5), (12.595451805, 0.5))
        make_face()
        with BuildLine():
            ThreePointArc((11.645845297, -4.823867067), (12.363163425, -2.459186105), (12.605372115, 0))
            Line((12.605372115, 0), (3.781256431, 0))
            ThreePointArc((3.781256431, 0), (3.708600649, -0.737686535), (3.493425424, -1.44702419))
            Line((3.493425424, -1.44702419), (11.645845297, -4.823867067))
        make_face()
    extrude(amount=-BOSS_EXTRUDE16_DEPTH)

    # Chamfer6
    chamfer6_edges = [part.edges().sort_by_distance(p)[0] for p in [
        (6.972975215, -36.337000656, -20),
        (20.347757215, -30.902569089, -20),
        (30.624777631, -20.763501512, -20),
        (36.289055375, -7.218341915, -20),
        (36.289055375, 7.218341915, -20),
        (30.902569089, 20.347757215, -20),
        (-7.218341915, 36.289055375, -20),
        (20.763501512, 30.624777631, -20),
        (7.218341915, 36.289055375, -20),
        (-20.347757215, 30.902569089, -20),
        (-30.624777631, 20.763501512, -20),
        (-36.239453268, 7.463379051, -20),
        (-36.337000656, -6.972975215, -20),
        (-30.902569089, -20.347757215, -20),
        (-20.763501512, -30.624777631, -20),
        (-7.463379051, -36.239453268, -20),
    ]]
    chamfer(chamfer6_edges, length=CHAMFER6_SIZE)

    # Chamfer7
    chamfer7_edges = [part.edges().sort_by_distance(p)[0] for p in [
        (21.509056391, -14.672578308, -15),
        (11.17162686, -7.765365652, -15),
        (14.256824335, -21.786854315, -15),
        (7.349560619, -11.4494589, -15),
        (4.834120012, -25.58427925, -15),
        (2.408590398, -13.39047582, -15),
        (-5.324535261, -25.486729592, -15),
        (-2.899065877, -13.292914182, -15),
        (-14.672578308, -21.509056391, -15),
        (-7.765365652, -11.17162686, -15),
        (-21.786854315, -14.256824335, -15),
        (-11.4494589, -7.349560619, -15),
        (-25.58427925, -4.834120012, -15),
        (-13.39047582, -2.408590398, -15),
        (-25.486729592, 5.324535261, -15),
        (-13.292914182, 2.899065877, -15),
        (-21.509056391, 14.672578308, -15),
        (-11.17162686, 7.765365652, -15),
        (-14.256824335, 21.786854315, -15),
        (-7.349560619, 11.4494589, -15),
        (-5.079561814, 25.536681711, -15),
        (-2.654276427, 13.343948705, -15),
        (5.079561814, 25.536681711, -15),
        (2.654276427, 13.343948705, -15),
        (14.672578308, 21.509056391, -15),
        (7.765365652, 11.17162686, -15),
        (21.786854315, 14.256824335, -15),
        (11.4494589, 7.349560619, -15),
        (25.536681711, 5.079561814, -15),
        (13.343948705, 2.654276427, -15),
        (25.536681711, -5.079561814, -15),
        (13.343948705, -2.654276427, -15),
    ]]
    chamfer(chamfer7_edges, length=CHAMFER7_SIZE)

    # Chamfer8
    chamfer8_edges = [part.edges().sort_by_distance(p)[0] for p in [
        (10.340001661, -7.209699843, -10),
        (6.793883218, -10.617841447, -10),
        (2.213457642, -12.409512941, -10),
        (-2.703946795, -12.311948583, -10),
        (-7.209699843, -10.340001661, -10),
        (-10.617841447, -6.793883218, -10),
        (-12.409512941, -2.213457642, -10),
        (-12.311948583, 2.703946795, -10),
        (-10.340001661, 7.209699843, -10),
        (-6.793883218, 10.617841447, -10),
        (-2.459186105, 12.363163425, -10),
        (2.459186105, 12.363163425, -10),
        (7.209699843, 10.340001661, -10),
        (10.617841447, 6.793883218, -10),
        (12.363163425, 2.459186105, -10),
        (12.363163425, -2.459186105, -10),
    ]]
    chamfer(chamfer8_edges, length=CHAMFER8_SIZE)

    # Chamfer9
    chamfer9_edges = [part.edges().sort_by_distance(p)[0] for p in [
        (5.419417393, -28.526756308, -20),
        (15.923605825, -24.281365033, -20),
        (24.003569619, -16.339356042, -20),
        (28.479037552, -5.66483278, -20),
        (28.479037552, 5.66483278, -20),
        (24.281365033, 15.923605825, -20),
        (16.339356042, 24.003569619, -20),
        (-5.66483278, 28.479037552, -20),
        (5.66483278, 28.479037552, -20),
        (-15.923605825, 24.281365033, -20),
        (-24.003569619, 16.339356042, -20),
        (-28.429207531, 5.909828211, -20),
        (-28.526756308, -5.419417393, -20),
        (-24.281365033, -15.923605825, -20),
        (-16.339356042, -24.003569619, -20),
        (-5.909828211, -28.429207531, -20),
    ]]
    chamfer(chamfer9_edges, length=CHAMFER9_SIZE)

    # Sketch5 → Cut-Extrude1 (cut)
    with BuildSketch(Plane.XY.offset(2)):
        Circle(SKETCH5_R)
        Circle(SKETCH5_R_2, mode=Mode.SUBTRACT)
    extrude(amount=-CUT_EXTRUDE1_DEPTH, mode=Mode.SUBTRACT)


solid = part.part
